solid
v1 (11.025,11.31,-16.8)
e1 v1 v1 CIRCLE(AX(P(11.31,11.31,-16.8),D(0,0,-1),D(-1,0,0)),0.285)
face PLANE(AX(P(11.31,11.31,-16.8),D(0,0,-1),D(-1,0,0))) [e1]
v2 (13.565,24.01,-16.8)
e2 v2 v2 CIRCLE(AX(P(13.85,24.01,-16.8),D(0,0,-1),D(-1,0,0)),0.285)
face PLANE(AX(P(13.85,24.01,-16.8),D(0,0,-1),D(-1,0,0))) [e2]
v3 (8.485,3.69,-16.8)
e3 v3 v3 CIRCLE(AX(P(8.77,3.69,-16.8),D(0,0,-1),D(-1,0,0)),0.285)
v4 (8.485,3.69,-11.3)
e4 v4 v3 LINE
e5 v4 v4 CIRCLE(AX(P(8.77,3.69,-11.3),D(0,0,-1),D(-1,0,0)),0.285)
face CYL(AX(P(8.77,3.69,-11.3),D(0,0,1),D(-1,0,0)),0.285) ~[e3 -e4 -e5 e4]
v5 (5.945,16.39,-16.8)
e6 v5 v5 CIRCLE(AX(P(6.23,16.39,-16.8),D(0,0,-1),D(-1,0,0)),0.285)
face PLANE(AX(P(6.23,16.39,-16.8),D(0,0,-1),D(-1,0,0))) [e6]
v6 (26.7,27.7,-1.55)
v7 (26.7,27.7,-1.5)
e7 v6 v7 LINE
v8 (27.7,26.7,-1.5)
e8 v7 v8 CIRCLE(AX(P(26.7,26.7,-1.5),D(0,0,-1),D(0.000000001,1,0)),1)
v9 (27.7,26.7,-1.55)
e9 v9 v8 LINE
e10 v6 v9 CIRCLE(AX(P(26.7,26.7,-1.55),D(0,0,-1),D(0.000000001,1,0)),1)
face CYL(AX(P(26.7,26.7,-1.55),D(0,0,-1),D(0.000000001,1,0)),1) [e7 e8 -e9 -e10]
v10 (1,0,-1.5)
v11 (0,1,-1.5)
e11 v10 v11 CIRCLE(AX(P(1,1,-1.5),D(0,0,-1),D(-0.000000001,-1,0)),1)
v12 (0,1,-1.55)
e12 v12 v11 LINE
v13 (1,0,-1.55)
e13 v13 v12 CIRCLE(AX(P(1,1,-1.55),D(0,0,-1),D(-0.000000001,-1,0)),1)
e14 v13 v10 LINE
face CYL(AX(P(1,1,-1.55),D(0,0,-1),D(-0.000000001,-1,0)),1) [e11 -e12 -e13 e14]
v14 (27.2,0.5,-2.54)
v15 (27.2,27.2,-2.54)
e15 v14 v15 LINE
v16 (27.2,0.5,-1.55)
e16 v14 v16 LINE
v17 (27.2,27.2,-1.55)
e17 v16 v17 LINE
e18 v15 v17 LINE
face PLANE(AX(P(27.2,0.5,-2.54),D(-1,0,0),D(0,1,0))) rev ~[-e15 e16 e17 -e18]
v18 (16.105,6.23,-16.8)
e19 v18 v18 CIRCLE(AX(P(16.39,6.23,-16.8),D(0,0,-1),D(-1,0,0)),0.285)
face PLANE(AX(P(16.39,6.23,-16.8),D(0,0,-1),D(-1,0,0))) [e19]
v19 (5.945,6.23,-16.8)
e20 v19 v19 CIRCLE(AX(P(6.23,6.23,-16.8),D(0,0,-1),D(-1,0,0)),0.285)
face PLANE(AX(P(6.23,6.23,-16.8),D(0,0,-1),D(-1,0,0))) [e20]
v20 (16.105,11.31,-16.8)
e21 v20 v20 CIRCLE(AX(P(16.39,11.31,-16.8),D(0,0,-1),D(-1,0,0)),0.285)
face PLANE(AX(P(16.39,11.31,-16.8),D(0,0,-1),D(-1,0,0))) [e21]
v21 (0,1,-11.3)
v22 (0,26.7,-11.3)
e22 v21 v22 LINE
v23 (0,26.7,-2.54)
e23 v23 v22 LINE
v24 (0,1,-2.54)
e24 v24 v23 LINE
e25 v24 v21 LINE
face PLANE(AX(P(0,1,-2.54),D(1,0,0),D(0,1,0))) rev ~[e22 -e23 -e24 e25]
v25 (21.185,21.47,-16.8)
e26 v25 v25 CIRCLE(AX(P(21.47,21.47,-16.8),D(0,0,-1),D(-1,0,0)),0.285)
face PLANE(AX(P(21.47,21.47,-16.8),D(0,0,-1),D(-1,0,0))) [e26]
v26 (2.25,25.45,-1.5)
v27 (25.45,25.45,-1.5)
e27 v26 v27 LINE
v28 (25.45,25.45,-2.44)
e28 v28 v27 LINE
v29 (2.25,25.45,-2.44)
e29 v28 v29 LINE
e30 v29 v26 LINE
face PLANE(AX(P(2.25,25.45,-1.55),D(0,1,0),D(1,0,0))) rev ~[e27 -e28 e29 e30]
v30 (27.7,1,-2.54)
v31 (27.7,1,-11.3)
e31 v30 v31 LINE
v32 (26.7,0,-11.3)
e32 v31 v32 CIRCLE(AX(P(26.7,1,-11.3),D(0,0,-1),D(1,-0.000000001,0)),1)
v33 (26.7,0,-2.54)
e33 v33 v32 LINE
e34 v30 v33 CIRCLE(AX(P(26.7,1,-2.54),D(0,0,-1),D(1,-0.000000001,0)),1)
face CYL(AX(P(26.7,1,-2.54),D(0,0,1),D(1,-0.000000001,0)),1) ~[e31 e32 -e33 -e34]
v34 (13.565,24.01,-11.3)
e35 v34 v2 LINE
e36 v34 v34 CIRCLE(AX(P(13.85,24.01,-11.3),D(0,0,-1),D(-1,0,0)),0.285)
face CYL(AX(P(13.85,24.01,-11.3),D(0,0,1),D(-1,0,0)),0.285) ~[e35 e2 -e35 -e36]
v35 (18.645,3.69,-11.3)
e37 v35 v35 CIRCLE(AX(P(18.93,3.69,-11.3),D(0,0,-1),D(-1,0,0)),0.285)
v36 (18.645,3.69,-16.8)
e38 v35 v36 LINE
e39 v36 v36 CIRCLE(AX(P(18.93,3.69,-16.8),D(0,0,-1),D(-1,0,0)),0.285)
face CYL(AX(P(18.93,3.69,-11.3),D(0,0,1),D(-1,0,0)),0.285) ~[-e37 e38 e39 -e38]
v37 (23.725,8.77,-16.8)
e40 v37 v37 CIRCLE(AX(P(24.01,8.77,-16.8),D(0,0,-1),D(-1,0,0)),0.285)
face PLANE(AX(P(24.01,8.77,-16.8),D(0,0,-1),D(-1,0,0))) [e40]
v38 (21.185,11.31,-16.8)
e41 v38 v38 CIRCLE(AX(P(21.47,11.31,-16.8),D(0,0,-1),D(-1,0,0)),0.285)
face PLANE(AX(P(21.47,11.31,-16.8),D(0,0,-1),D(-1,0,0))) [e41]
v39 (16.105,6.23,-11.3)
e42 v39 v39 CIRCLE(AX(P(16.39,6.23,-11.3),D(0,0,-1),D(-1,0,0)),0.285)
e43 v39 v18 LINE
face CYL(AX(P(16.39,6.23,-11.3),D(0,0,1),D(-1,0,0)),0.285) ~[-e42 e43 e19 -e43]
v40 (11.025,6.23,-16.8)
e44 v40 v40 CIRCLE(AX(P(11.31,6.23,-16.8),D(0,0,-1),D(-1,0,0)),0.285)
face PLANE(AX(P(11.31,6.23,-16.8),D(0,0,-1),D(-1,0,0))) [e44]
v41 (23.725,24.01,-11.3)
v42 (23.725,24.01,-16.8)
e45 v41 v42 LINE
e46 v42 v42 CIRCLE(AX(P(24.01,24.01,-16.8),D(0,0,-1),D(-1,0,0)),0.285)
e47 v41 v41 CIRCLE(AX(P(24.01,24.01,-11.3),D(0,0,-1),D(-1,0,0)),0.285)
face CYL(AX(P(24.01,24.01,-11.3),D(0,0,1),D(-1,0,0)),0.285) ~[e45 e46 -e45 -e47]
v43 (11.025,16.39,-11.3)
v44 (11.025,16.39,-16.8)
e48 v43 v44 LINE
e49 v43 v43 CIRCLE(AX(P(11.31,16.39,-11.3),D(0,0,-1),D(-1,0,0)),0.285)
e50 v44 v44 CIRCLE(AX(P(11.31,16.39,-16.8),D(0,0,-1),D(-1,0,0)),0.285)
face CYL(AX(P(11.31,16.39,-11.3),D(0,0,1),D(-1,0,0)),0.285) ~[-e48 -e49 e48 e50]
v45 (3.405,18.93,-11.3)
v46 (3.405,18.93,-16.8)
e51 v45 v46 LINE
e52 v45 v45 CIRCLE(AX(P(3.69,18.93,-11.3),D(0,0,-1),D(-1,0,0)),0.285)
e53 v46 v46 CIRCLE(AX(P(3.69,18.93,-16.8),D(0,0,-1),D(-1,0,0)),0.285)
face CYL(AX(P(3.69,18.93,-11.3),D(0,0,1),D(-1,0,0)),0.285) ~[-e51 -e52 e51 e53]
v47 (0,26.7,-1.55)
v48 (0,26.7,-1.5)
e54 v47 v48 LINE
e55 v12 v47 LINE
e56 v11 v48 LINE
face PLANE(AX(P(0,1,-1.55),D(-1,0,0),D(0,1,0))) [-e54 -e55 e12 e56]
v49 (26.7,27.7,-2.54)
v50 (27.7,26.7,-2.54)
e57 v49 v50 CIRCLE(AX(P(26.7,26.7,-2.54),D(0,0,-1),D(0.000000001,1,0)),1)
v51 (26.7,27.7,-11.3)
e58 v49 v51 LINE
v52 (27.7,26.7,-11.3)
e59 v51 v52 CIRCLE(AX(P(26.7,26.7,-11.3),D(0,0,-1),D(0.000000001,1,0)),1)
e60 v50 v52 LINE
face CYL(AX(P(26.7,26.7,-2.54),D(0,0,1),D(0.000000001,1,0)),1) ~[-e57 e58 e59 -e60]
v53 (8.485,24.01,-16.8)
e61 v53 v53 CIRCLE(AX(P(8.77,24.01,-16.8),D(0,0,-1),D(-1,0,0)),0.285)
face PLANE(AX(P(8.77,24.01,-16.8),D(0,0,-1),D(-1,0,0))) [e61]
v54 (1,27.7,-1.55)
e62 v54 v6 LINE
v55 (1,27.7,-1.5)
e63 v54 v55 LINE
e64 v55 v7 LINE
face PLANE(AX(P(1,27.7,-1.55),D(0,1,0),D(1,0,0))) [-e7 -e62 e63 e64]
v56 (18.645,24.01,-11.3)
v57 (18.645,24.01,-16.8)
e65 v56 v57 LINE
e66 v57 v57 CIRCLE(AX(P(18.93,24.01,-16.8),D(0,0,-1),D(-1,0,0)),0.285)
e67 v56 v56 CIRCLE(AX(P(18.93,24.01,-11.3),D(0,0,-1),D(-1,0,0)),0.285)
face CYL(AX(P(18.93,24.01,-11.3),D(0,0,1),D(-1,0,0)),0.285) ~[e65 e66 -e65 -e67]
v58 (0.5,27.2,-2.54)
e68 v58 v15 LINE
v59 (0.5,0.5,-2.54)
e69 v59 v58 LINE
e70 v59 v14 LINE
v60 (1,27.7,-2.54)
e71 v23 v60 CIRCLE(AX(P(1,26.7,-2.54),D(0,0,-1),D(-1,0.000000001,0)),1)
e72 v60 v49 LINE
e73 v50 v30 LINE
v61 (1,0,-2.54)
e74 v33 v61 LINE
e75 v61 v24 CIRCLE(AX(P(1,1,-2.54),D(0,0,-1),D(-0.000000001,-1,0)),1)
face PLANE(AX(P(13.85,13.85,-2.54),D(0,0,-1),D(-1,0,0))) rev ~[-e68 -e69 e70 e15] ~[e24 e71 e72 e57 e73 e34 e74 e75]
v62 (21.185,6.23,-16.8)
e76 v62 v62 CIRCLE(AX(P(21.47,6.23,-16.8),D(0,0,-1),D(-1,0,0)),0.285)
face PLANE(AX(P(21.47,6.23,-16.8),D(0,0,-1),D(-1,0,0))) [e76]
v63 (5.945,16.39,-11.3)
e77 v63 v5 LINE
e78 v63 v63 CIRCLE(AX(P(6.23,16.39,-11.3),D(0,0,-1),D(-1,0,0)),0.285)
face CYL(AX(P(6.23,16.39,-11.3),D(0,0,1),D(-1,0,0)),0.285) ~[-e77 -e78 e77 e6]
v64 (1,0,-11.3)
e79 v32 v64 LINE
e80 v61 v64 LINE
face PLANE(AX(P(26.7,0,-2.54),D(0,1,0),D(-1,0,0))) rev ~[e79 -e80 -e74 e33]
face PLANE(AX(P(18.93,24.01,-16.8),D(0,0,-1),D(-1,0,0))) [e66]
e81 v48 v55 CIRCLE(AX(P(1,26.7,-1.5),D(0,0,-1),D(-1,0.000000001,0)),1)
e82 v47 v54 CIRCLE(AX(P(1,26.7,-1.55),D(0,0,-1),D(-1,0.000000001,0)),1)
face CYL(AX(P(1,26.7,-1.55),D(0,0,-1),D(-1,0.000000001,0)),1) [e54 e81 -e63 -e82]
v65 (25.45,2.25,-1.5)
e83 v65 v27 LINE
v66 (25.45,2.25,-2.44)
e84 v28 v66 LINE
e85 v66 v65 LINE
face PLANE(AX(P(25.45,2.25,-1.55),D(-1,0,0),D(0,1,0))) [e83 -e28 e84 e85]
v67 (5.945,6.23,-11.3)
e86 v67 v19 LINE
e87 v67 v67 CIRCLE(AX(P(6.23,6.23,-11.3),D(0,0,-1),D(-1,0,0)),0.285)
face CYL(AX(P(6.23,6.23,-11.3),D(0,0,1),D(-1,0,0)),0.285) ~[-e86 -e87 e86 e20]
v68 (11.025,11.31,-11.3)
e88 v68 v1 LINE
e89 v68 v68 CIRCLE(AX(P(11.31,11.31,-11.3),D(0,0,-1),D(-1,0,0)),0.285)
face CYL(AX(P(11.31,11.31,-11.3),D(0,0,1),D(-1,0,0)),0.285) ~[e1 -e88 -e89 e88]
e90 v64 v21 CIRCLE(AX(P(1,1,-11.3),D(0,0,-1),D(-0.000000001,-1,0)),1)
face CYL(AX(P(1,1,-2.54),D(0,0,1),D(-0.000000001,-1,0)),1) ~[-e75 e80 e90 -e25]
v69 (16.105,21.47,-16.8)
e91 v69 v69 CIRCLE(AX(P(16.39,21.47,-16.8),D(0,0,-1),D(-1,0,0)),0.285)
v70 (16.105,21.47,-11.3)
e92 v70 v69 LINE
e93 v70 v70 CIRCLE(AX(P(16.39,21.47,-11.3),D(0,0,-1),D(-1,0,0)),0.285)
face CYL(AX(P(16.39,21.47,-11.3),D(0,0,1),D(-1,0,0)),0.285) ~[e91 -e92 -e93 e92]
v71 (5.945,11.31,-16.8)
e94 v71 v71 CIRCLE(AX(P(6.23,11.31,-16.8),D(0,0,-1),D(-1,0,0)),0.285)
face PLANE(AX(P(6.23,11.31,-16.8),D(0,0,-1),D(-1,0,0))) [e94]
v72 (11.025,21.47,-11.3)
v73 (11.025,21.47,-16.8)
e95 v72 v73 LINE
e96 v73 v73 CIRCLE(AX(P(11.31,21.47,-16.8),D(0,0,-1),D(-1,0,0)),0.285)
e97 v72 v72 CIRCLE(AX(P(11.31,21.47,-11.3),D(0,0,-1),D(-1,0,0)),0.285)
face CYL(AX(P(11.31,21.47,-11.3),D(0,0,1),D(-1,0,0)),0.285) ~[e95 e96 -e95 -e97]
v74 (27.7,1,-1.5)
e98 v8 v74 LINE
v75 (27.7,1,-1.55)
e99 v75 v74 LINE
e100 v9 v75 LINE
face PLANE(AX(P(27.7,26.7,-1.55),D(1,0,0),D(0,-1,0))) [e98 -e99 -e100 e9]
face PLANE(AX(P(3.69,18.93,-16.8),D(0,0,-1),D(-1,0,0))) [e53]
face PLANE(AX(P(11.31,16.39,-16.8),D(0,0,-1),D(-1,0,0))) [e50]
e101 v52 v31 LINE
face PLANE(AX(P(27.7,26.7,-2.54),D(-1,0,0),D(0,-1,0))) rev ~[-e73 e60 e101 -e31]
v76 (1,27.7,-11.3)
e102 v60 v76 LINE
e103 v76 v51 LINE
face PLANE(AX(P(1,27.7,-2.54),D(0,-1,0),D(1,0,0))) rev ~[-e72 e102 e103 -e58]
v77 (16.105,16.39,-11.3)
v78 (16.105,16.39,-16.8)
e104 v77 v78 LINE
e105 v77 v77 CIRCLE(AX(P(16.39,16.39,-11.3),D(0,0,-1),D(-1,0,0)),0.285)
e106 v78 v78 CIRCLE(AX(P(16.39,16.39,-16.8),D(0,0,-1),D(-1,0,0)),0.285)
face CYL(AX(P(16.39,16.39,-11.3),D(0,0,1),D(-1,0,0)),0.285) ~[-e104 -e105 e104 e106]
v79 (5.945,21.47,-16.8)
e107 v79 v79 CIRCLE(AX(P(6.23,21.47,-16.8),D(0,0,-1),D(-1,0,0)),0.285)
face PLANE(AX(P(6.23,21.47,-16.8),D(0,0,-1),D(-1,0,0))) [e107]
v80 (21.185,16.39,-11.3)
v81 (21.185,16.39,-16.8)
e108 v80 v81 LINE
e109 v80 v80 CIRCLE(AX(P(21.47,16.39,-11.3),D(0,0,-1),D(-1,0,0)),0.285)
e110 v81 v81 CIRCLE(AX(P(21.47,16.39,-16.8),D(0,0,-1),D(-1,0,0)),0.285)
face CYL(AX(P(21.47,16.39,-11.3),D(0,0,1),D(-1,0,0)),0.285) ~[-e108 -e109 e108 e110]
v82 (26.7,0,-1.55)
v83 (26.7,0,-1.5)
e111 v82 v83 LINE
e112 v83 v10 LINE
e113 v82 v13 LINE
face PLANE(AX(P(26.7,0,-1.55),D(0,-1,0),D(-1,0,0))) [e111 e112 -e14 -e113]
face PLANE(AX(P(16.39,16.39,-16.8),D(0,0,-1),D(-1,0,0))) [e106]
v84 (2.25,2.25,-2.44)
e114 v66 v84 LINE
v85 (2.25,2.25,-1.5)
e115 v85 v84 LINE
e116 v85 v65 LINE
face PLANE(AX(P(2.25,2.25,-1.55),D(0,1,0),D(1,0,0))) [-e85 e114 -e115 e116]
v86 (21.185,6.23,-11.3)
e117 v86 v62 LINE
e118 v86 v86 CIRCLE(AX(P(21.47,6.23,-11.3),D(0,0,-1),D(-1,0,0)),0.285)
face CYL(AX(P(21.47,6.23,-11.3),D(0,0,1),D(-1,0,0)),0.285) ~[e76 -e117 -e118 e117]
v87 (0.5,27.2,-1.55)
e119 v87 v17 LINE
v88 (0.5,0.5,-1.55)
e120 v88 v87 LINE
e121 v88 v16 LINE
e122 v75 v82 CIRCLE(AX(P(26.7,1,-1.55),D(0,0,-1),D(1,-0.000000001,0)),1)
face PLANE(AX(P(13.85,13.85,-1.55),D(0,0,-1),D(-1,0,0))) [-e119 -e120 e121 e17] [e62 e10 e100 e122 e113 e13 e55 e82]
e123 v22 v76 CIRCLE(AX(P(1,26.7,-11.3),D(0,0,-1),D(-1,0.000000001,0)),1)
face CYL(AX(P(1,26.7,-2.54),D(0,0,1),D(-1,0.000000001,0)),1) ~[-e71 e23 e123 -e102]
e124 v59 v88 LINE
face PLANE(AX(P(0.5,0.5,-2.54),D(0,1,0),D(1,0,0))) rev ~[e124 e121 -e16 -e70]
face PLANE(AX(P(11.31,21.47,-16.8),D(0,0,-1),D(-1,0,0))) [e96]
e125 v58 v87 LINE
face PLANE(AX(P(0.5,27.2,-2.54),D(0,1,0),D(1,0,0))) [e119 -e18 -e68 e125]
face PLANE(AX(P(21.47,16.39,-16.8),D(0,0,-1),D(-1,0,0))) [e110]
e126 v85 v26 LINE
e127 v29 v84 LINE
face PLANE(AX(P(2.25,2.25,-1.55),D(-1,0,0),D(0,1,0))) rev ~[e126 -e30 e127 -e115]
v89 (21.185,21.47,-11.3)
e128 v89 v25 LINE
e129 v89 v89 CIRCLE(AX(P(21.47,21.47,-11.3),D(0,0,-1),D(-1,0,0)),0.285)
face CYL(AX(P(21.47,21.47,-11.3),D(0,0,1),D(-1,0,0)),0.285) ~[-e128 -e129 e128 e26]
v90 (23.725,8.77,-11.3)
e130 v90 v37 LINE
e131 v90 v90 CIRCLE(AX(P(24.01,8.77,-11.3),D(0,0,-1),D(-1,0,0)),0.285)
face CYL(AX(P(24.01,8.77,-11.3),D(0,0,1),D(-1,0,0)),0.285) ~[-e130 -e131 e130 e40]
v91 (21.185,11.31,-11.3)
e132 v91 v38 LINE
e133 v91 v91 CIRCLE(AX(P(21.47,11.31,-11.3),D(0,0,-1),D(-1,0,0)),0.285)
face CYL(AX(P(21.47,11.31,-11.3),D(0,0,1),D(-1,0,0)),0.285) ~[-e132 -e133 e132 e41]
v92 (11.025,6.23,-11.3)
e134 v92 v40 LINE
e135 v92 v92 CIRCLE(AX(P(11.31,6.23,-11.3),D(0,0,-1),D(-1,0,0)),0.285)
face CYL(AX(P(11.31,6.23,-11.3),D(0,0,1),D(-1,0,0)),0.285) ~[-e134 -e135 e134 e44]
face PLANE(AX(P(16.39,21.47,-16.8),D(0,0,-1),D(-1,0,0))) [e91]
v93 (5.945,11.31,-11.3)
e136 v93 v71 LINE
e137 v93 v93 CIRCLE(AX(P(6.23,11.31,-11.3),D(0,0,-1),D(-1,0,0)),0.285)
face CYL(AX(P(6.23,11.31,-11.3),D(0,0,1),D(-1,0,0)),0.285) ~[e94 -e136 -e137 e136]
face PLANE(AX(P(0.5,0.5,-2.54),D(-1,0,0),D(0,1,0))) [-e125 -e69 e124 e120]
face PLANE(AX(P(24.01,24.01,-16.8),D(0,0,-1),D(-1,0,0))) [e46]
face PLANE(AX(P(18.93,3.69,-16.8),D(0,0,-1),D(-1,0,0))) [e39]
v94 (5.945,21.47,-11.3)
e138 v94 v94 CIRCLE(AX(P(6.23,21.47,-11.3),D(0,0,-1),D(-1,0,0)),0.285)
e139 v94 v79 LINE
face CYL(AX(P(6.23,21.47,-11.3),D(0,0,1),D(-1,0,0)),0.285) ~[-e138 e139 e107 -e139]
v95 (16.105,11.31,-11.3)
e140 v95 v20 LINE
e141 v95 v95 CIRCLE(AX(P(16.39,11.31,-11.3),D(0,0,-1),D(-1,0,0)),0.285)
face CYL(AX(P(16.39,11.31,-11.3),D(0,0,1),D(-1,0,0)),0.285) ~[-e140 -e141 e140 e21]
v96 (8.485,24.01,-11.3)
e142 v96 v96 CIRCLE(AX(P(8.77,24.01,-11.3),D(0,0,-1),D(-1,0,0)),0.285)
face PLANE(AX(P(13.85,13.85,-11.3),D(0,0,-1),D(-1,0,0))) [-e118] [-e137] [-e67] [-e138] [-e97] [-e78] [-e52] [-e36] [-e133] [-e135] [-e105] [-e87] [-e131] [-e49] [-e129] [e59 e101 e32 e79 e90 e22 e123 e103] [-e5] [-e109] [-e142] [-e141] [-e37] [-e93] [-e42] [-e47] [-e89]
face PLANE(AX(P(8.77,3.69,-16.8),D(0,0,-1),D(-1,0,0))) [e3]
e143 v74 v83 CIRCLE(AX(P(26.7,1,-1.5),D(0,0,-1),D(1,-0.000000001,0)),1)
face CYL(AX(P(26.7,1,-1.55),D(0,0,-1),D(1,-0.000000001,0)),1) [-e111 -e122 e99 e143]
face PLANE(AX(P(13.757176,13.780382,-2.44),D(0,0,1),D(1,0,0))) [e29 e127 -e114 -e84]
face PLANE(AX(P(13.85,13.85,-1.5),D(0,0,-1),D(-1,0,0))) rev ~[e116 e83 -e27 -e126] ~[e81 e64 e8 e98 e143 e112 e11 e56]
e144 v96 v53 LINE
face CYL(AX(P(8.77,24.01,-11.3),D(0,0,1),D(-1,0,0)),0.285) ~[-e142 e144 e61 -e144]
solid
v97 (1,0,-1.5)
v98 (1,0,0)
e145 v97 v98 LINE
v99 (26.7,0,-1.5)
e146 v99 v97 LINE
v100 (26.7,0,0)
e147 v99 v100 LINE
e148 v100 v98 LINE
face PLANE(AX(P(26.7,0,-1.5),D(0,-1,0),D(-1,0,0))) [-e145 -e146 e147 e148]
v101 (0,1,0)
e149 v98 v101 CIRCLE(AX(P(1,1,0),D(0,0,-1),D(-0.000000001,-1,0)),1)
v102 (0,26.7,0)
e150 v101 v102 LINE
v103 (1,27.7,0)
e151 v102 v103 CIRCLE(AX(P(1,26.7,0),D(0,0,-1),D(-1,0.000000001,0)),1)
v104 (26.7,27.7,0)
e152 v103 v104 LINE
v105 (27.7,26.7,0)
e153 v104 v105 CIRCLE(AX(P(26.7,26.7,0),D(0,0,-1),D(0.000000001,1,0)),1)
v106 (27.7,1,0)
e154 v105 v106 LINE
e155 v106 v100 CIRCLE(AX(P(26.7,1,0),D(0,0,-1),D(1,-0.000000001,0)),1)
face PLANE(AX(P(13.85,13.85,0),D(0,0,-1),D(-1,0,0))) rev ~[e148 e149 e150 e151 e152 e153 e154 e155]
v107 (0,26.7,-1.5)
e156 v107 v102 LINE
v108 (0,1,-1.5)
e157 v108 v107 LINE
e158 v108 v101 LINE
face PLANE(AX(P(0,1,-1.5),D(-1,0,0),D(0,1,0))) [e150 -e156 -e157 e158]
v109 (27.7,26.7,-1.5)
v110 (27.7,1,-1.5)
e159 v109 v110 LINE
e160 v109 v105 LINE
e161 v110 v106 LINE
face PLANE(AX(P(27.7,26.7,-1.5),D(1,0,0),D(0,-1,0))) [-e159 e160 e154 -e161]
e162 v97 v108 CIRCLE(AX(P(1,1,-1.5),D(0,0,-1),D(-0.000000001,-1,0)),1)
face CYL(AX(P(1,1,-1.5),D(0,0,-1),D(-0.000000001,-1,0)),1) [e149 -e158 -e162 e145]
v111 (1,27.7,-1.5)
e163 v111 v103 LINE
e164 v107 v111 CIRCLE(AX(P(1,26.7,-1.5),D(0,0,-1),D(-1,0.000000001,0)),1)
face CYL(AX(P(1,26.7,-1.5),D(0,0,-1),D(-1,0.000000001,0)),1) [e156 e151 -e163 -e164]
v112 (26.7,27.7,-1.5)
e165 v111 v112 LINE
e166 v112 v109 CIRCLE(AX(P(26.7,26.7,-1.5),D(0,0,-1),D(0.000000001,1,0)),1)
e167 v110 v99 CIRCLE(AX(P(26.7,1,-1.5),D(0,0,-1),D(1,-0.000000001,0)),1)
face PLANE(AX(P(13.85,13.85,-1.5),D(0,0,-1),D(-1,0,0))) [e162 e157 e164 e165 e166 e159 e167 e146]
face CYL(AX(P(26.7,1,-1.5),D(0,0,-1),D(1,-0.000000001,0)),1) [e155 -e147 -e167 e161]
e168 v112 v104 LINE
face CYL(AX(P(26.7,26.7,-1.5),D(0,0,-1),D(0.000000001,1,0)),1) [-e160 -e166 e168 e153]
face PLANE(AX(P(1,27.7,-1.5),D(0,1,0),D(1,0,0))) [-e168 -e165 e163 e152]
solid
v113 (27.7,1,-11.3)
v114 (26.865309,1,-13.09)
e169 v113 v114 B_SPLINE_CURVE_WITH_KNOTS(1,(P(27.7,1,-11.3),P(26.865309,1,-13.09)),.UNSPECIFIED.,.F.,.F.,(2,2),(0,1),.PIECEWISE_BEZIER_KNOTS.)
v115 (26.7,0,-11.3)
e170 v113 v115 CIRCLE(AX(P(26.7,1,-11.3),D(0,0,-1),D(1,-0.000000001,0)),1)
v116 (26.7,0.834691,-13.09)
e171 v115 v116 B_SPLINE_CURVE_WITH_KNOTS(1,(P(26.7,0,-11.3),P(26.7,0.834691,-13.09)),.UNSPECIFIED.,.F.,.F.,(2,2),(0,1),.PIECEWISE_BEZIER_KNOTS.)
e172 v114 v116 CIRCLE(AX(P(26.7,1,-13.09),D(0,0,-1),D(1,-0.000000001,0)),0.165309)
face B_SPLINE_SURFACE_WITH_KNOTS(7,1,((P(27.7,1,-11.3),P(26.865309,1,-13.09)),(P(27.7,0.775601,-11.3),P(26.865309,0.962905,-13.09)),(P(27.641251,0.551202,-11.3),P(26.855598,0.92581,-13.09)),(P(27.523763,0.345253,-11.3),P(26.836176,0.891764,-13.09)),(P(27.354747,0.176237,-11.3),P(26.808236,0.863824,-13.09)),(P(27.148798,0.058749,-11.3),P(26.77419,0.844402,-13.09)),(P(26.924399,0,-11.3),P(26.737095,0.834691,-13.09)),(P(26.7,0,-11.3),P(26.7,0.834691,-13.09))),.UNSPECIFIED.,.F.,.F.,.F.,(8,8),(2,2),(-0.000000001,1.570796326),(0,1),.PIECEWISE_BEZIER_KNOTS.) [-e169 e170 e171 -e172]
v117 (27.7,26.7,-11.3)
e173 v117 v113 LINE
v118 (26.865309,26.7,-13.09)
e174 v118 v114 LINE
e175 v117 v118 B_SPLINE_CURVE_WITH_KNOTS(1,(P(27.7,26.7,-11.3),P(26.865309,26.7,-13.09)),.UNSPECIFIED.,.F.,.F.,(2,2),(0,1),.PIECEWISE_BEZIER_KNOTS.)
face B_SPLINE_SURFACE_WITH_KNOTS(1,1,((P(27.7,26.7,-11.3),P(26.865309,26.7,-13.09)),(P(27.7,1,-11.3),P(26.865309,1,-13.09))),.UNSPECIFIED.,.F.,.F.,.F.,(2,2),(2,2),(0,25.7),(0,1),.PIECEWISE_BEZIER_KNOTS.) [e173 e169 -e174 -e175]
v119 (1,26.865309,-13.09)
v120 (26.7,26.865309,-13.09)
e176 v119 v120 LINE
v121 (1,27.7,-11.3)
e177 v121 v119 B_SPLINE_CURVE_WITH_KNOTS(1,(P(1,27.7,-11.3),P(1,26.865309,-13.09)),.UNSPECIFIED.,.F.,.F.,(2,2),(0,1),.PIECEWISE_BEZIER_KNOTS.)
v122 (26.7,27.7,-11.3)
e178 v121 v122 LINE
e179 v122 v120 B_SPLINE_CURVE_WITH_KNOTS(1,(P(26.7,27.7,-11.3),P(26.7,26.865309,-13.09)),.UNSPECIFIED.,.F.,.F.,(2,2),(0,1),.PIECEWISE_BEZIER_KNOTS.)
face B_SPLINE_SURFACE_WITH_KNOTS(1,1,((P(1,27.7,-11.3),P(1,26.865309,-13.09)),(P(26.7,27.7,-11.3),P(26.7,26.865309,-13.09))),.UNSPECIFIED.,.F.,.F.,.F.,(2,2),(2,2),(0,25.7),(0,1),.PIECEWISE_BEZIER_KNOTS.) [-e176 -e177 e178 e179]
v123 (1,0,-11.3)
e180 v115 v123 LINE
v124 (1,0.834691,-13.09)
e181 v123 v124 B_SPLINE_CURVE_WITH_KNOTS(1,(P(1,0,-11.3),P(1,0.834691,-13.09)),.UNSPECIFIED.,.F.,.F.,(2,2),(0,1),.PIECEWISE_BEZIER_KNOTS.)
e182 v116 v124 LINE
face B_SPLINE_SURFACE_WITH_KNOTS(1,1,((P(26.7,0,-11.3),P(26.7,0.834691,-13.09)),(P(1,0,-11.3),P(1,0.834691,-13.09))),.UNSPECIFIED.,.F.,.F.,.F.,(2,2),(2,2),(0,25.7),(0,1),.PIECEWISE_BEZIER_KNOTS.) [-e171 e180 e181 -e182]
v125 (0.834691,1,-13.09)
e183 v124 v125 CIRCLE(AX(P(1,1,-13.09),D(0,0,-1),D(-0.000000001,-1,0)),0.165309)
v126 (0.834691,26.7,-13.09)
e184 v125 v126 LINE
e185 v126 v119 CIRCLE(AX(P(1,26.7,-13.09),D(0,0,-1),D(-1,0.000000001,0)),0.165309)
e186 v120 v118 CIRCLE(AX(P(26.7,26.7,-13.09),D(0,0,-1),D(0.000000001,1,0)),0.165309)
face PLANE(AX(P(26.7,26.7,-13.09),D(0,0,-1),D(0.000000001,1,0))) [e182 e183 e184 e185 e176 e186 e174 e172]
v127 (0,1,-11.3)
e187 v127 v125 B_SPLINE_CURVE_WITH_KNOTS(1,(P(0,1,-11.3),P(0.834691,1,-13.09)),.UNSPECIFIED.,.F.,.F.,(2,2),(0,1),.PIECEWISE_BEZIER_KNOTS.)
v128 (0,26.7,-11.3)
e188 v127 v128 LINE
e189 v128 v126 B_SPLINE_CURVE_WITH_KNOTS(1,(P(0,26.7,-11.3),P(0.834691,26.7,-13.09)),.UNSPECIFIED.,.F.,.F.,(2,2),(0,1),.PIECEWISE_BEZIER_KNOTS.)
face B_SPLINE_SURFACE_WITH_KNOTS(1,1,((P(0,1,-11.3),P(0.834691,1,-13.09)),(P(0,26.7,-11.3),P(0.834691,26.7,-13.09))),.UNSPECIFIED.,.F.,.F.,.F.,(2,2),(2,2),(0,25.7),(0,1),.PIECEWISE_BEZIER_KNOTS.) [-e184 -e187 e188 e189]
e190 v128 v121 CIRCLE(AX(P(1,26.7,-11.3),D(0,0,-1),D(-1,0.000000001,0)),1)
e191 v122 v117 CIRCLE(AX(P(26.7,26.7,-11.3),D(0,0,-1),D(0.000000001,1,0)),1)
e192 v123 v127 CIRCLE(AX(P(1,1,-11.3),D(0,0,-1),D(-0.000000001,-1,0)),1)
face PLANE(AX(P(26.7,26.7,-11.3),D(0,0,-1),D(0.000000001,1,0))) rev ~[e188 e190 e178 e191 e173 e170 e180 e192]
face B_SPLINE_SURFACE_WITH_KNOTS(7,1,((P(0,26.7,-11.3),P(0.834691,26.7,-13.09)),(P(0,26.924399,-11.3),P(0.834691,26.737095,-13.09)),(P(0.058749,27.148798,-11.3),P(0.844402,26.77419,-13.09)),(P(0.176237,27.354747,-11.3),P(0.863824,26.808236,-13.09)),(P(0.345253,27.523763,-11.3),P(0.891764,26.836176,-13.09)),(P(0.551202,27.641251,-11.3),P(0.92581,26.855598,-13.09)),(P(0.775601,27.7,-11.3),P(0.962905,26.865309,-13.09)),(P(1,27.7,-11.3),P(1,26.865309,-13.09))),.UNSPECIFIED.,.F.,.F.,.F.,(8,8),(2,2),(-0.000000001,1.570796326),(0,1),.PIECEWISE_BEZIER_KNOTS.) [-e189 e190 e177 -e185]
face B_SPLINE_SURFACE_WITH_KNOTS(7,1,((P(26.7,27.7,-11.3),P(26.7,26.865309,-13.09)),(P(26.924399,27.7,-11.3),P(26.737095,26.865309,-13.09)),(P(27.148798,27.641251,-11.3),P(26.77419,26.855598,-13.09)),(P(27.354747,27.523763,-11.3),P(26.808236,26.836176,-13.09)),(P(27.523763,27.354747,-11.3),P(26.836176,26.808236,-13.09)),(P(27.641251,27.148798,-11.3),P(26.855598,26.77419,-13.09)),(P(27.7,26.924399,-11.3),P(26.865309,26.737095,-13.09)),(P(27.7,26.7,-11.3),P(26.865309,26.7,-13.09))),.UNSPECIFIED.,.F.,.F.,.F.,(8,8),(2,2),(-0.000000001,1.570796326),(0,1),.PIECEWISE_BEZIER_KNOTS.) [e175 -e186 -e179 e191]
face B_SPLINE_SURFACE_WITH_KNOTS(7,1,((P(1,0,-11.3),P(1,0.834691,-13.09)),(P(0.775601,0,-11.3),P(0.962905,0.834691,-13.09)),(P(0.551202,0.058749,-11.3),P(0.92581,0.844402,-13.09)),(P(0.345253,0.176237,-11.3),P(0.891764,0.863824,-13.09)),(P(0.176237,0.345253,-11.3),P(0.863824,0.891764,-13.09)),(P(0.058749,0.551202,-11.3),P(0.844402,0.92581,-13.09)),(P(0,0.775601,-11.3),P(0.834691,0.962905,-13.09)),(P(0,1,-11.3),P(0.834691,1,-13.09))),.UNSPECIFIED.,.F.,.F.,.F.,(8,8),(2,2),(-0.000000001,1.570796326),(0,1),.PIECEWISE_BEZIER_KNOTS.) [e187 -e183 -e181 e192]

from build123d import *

# Parameters (mm, degrees)
METAL_CASE_AT_HV_DEPTH = 8.76
SKETCH3_W              = 24.737677246
SKETCH3_H              = 24.830501551
PHOTOCATHODE_DEPTH     = 0.1
SKETCH5_W              = 26.7
SKETCH5_H              = 26.7
SKETCH5_W_2            = 23.2
SKETCH5_H_2            = 23.2
BOSS_EXTRUDE3_DEPTH    = 0.99
SKETCH6_W              = 23.2
SKETCH6_H              = 23.2
MIRRORED_SURFACE_DEPTH = 0.05
FRONT_GLASS_DEPTH      = 1.5
SKETCH8_R              = 0.285
PINS_DEPTH             = 5.5
SKETCH9_W              = 1.403236588
SKETCH9_H              = 1.496318302
SKETCH9_W_2            = 1.502916358
SKETCH9_H_2            = 1.880163391
SKETCH9_W_3            = 1.432017479
SKETCH9_W_4            = 4.227959696
SKETCH9_W_5            = 1.836353851
SKETCH9_H_3            = 11.695124286
SKETCH9_H_4            = 4.871079897
SKETCH9_W_6            = 1.828629866
SKETCH9_H_5            = 1.71959621
SKETCH9_W_7            = 1.615933227
SKETCH9_W_8            = 1.365330314
SKETCH9_W_9            = 1.525378005
SKETCH9_H_6            = 1.496732956
SKETCH9_W_10           = 17.055037943
SKETCH9_H_7            = 1.444241572
SKETCH9_H_8            = 1.617700465
SKETCH9_H_9            = 1.513765196
SKETCH9_H_10           = 14.892572142
SKETCH9_H_11           = 1.645870576
SKETCH9_H_12           = 1.829290868
SKETCH9_W_11           = 1.140707165
SKETCH9_H_13           = 1.492116291
SKETCH9_W_12           = 1.724036428
SKETCH9_W_13           = 1.316199483
SKETCH9_H_14           = 1.570615298
SKETCH9_W_14           = 1.593474923
SKETCH9_W_15           = 1.889006141
SKETCH9_H_15           = 2.206356806
SKETCH9_W_16           = 6.877190486
SKETCH9_H_16           = 1.783898062
SKETCH9_W_17           = 1.759836844
SKETCH9_H_17           = 1.481039903
CUT_EXTRUDE1_DEPTH     = 5.5
RUBBER_DEPTH           = 1.79
RUBBER_TAPER           = 25


with BuildPart() as part:
    # Sketch2 → metal-case-at-HV (new body)
    with BuildSketch(Plane.XY.offset(-2.54)):
        with BuildLine():
            Line((1, 27.7), (26.7, 27.7))
            ThreePointArc((26.7, 27.7), (27.407106781, 27.407106781), (27.7, 26.7))
            Line((27.7, 26.7), (27.7, 1))
            ThreePointArc((27.7, 1), (27.407106781, 0.292893219), (26.7, 0))
            Line((26.7, 0), (1, 0))
            ThreePointArc((1, 0), (0.292893219, 0.292893219), (0, 1))
            Line((0, 1), (0, 26.7))
            ThreePointArc((0, 26.7), (0.292893219, 27.407106781), (1, 27.7))
        make_face()
    extrude(amount=-METAL_CASE_AT_HV_DEPTH)

    # Sketch3 → photocathode (add)
    with BuildSketch(Plane.XY.offset(-2.54)):
        with Locations((13.757175695, 13.780381772)):
            Rectangle(SKETCH3_W, SKETCH3_H)
    extrude(amount=PHOTOCATHODE_DEPTH)

    # Sketch5 → Boss-Extrude3 (add)
    with BuildSketch(Plane.XY.offset(-2.54)):
        with Locations((13.85, 13.85)):
            Rectangle(SKETCH5_W, SKETCH5_H)
        with Locations((13.85, 13.85)):
            Rectangle(SKETCH5_W_2, SKETCH5_H_2, mode=Mode.SUBTRACT)
    extrude(amount=BOSS_EXTRUDE3_DEPTH)

    # Sketch6 → mirrored-surface (add)
    with BuildSketch(Plane.XY.offset(-1.55)):
        with BuildLine():
            Line((1, 27.7), (26.7, 27.7))
            ThreePointArc((26.7, 27.7), (27.407106781, 27.407106781), (27.7, 26.7))
            Line((27.7, 26.7), (27.7, 1))
            ThreePointArc((27.7, 1), (27.407106781, 0.292893219), (26.7, 0))
            Line((26.7, 0), (1, 0))
            ThreePointArc((1, 0), (0.292893219, 0.292893219), (0, 1))
            Line((0, 1), (0, 26.7))
            ThreePointArc((0, 26.7), (0.292893219, 27.407106781), (1, 27.7))
        make_face()
        with Locations((13.85, 13.85)):
            Rectangle(SKETCH6_W, SKETCH6_H, mode=Mode.SUBTRACT)
    extrude(amount=MIRRORED_SURFACE_DEPTH)

    # Sketch8 → pins (add)
    with BuildSketch(Plane(origin=(0, 0, -11.3), x_dir=(-1, 0, 0), z_dir=(0, 0, -1))):
        with Locations((-24.01, 3.69)):
            Circle(SKETCH8_R)
        with Locations((-21.47, 3.69)):
            Circle(SKETCH8_R)
        with Locations((-18.93, 3.69)):
            Circle(SKETCH8_R)
        with Locations((-16.39, 3.69)):
            Circle(SKETCH8_R)
        with Locations((-13.85, 3.69)):
            Circle(SKETCH8_R)
        with Locations((-11.31, 3.69)):
            Circle(SKETCH8_R)
        with Locations((-8.77, 3.69)):
            Circle(SKETCH8_R)
        with Locations((-6.23, 3.69)):
            Circle(SKETCH8_R)
        with Locations((-3.69, 3.69)):
            Circle(SKETCH8_R)
        with Locations((-24.01, 6.23)):
            Circle(SKETCH8_R)
        with Locations((-21.47, 6.23)):
            Circle(SKETCH8_R)
        with Locations((-18.93, 6.23)):
            Circle(SKETCH8_R)
        with Locations((-16.39, 6.23)):
            Circle(SKETCH8_R)
        with Locations((-13.85, 6.23)):
            Circle(SKETCH8_R)
        with Locations((-11.31, 6.23)):
            Circle(SKETCH8_R)
        with Locations((-8.77, 6.23)):
            Circle(SKETCH8_R)
        with Locations((-6.23, 6.23)):
            Circle(SKETCH8_R)
        with Locations((-3.69, 6.23)):
            Circle(SKETCH8_R)
        with Locations((-24.01, 8.77)):
            Circle(SKETCH8_R)
        with Locations((-21.47, 8.77)):
            Circle(SKETCH8_R)
        with Locations((-18.93, 8.77)):
            Circle(SKETCH8_R)
        with Locations((-16.39, 8.77)):
            Circle(SKETCH8_R)
        with Locations((-13.85, 8.77)):
            Circle(SKETCH8_R)
        with Locations((-11.31, 8.77)):
            Circle(SKETCH8_R)
        with Locations((-8.77, 8.77)):
            Circle(SKETCH8_R)
        with Locations((-6.23, 8.77)):
            Circle(SKETCH8_R)
        with Locations((-3.69, 8.77)):
            Circle(SKETCH8_R)
        with Locations((-24.01, 11.31)):
            Circle(SKETCH8_R)
        with Locations((-21.47, 11.31)):
            Circle(SKETCH8_R)
        with Locations((-18.93, 11.31)):
            Circle(SKETCH8_R)
        with Locations((-16.39, 11.31)):
            Circle(SKETCH8_R)
        with Locations((-13.85, 11.31)):
            Circle(SKETCH8_R)
        with Locations((-11.31, 11.31)):
            Circle(SKETCH8_R)
        with Locations((-8.77, 11.31)):
            Circle(SKETCH8_R)
        with Locations((-6.23, 11.31)):
            Circle(SKETCH8_R)
        with Locations((-3.69, 11.31)):
            Circle(SKETCH8_R)
        with Locations((-24.01, 13.85)):
            Circle(SKETCH8_R)
        with Locations((-21.47, 13.85)):
            Circle(SKETCH8_R)
        with Locations((-18.93, 13.85)):
            Circle(SKETCH8_R)
        with Locations((-16.39, 13.85)):
            Circle(SKETCH8_R)
        with Locations((-13.85, 13.85)):
            Circle(SKETCH8_R)
        with Locations((-11.31, 13.85)):
            Circle(SKETCH8_R)
        with Locations((-8.77, 13.85)):
            Circle(SKETCH8_R)
        with Locations((-6.23, 13.85)):
            Circle(SKETCH8_R)
        with Locations((-3.69, 13.85)):
            Circle(SKETCH8_R)
        with Locations((-24.01, 16.39)):
            Circle(SKETCH8_R)
        with Locations((-21.47, 16.39)):
            Circle(SKETCH8_R)
        with Locations((-18.93, 16.39)):
            Circle(SKETCH8_R)
        with Locations((-16.39, 16.39)):
            Circle(SKETCH8_R)
        with Locations((-13.85, 16.39)):
            Circle(SKETCH8_R)
        with Locations((-11.31, 16.39)):
            Circle(SKETCH8_R)
        with Locations((-8.77, 16.39)):
            Circle(SKETCH8_R)
        with Locations((-6.23, 16.39)):
            Circle(SKETCH8_R)
        with Locations((-3.69, 16.39)):
            Circle(SKETCH8_R)
        with Locations((-24.01, 18.93)):
            Circle(SKETCH8_R)
        with Locations((-21.47, 18.93)):
            Circle(SKETCH8_R)
        with Locations((-18.93, 18.93)):
            Circle(SKETCH8_R)
        with Locations((-16.39, 18.93)):
            Circle(SKETCH8_R)
        with Locations((-13.85, 18.93)):
            Circle(SKETCH8_R)
        with Locations((-11.31, 18.93)):
            Circle(SKETCH8_R)
        with Locations((-8.77, 18.93)):
            Circle(SKETCH8_R)
        with Locations((-6.23, 18.93)):
            Circle(SKETCH8_R)
        with Locations((-3.69, 18.93)):
            Circle(SKETCH8_R)
        with Locations((-24.01, 21.47)):
            Circle(SKETCH8_R)
        with Locations((-21.47, 21.47)):
            Circle(SKETCH8_R)
        with Locations((-18.93, 21.47)):
            Circle(SKETCH8_R)
        with Locations((-16.39, 21.47)):
            Circle(SKETCH8_R)
        with Locations((-13.85, 21.47)):
            Circle(SKETCH8_R)
        with Locations((-11.31, 21.47)):
            Circle(SKETCH8_R)
        with Locations((-8.77, 21.47)):
            Circle(SKETCH8_R)
        with Locations((-6.23, 21.47)):
            Circle(SKETCH8_R)
        with Locations((-3.69, 21.47)):
            Circle(SKETCH8_R)
        with Locations((-24.01, 24.01)):
            Circle(SKETCH8_R)
        with Locations((-21.47, 24.01)):
            Circle(SKETCH8_R)
        with Locations((-18.93, 24.01)):
            Circle(SKETCH8_R)
        with Locations((-16.39, 24.01)):
            Circle(SKETCH8_R)
        with Locations((-13.85, 24.01)):
            Circle(SKETCH8_R)
        with Locations((-11.31, 24.01)):
            Circle(SKETCH8_R)
        with Locations((-8.77, 24.01)):
            Circle(SKETCH8_R)
        with Locations((-6.23, 24.01)):
            Circle(SKETCH8_R)
        with Locations((-3.69, 24.01)):
            Circle(SKETCH8_R)
    extrude(amount=PINS_DEPTH)

    # Sketch9 → Cut-Extrude1 (cut)
    with BuildSketch(Plane(origin=(0, 0, -16.8), x_dir=(-1, 0, 0), z_dir=(0, 0, -1))):
        with Locations((-21.480019138, 24.113026159)):
            Rectangle(SKETCH9_W, SKETCH9_H)
        with Locations((-16.559216808, 23.921103615)):
            Rectangle(SKETCH9_W_2, SKETCH9_H_2)
        with Locations((-11.149493241, 23.921103615)):
            Rectangle(SKETCH9_W_3, SKETCH9_H_2)
        with Locations((-5.093958278, 24.113026159)):
            Rectangle(SKETCH9_W_4, SKETCH9_H)
        with Locations((-23.96533774, 16.379524364)):
            Rectangle(SKETCH9_W_5, SKETCH9_H_3)
        with Locations((-23.96533774, 5.141508534)):
            Rectangle(SKETCH9_W_5, SKETCH9_H_4)
        with Locations((-18.879223075, 21.590151656)):
            Rectangle(SKETCH9_W_6, SKETCH9_H_5)
        with Locations((-13.758710646, 21.590151656)):
            Rectangle(SKETCH9_W_7, SKETCH9_H_5)
        with Locations((-8.69295177, 21.590151656)):
            Rectangle(SKETCH9_W_8, SKETCH9_H_5)
        with Locations((-3.742667433, 21.478720029)):
            Rectangle(SKETCH9_W_9, SKETCH9_H_6)
        with Locations((-13.896295437, 19.092329501)):
            Rectangle(SKETCH9_W_10, SKETCH9_H_7)
        with Locations((-13.896295437, 13.951861682)):
            Rectangle(SKETCH9_W_10, SKETCH9_H_8)
        with Locations((-13.896295437, 8.881967989)):
            Rectangle(SKETCH9_W_10, SKETCH9_H_9)
        with Locations((-3.742667433, 10.152254656)):
            Rectangle(SKETCH9_W_9, SKETCH9_H_10)
        with Locations((-18.879223075, 16.504452811)):
            Rectangle(SKETCH9_W_6, SKETCH9_H_11)
        with Locations((-13.758710646, 16.504452811)):
            Rectangle(SKETCH9_W_7, SKETCH9_H_11)
        with Locations((-8.69295177, 16.504452811)):
            Rectangle(SKETCH9_W_8, SKETCH9_H_11)
        with Locations((-8.69295177, 11.446607655)):
            Rectangle(SKETCH9_W_8, SKETCH9_H_12)
        with Locations((-8.805263345, 6.274958053)):
            Rectangle(SKETCH9_W_11, SKETCH9_H_13)
        with Locations((-14.11249599, 6.274958053)):
            Rectangle(SKETCH9_W_12, SKETCH9_H_13)
        with Locations((-13.908577517, 11.31726987)):
            Rectangle(SKETCH9_W_13, SKETCH9_H_14)
        with Locations((-18.996800547, 11.446607655)):
            Rectangle(SKETCH9_W_14, SKETCH9_H_12)
        with Locations((-18.879223075, 6.274958053)):
            Rectangle(SKETCH9_W_6, SKETCH9_H_13)
        with Locations((-21.479311338, 3.809146988)):
            Rectangle(SKETCH9_W_15, SKETCH9_H_15)
        with Locations((-13.872079744, 3.597917616)):
            Rectangle(SKETCH9_W_16, SKETCH9_H_16)
        with Locations((-6.657233785, 3.749346696)):
            Rectangle(SKETCH9_W_17, SKETCH9_H_17)
    extrude(amount=-CUT_EXTRUDE1_DEPTH, mode=Mode.SUBTRACT)


with BuildPart() as body_2:
    # Sketch7 → front-glass (new body)
    with BuildSketch(Plane.XY.offset(-1.5)):
        with BuildLine():
            Line((1, 27.7), (26.7, 27.7))
            ThreePointArc((26.7, 27.7), (27.407106781, 27.407106781), (27.7, 26.7))
            Line((27.7, 26.7), (27.7, 1))
            ThreePointArc((27.7, 1), (27.407106781, 0.292893219), (26.7, 0))
            Line((26.7, 0), (1, 0))
            ThreePointArc((1, 0), (0.292893219, 0.292893219), (0, 1))
            Line((0, 1), (0, 26.7))
            ThreePointArc((0, 26.7), (0.292893219, 27.407106781), (1, 27.7))
        make_face()
    extrude(amount=FRONT_GLASS_DEPTH)


with BuildPart() as body_3:
    # Sketch10 → rubber (new body)
    with BuildSketch(Plane(origin=(0, 0, -11.3), x_dir=(-1, 0, 0), z_dir=(0, 0, -1))):
        with BuildLine():
            ThreePointArc((-26.7, 27.7), (-27.407106781, 27.407106781), (-27.7, 26.7))
            Line((-27.7, 26.7), (-27.7, 1))
            ThreePointArc((-27.7, 1), (-27.407106781, 0.292893219), (-26.7, 0))
            Line((-26.7, 0), (-1, 0))
            ThreePointArc((-1, 0), (-0.292893219, 0.292893219), (0, 1))
            Line((0, 1), (0, 26.7))
            ThreePointArc((0, 26.7), (-0.292893219, 27.407106781), (-1, 27.7))
            Line((-1, 27.7), (-26.7, 27.7))
        make_face()
    extrude(amount=RUBBER_DEPTH, taper=RUBBER_TAPER)


solid = Compound([part.part, body_2.part, body_3.part])
